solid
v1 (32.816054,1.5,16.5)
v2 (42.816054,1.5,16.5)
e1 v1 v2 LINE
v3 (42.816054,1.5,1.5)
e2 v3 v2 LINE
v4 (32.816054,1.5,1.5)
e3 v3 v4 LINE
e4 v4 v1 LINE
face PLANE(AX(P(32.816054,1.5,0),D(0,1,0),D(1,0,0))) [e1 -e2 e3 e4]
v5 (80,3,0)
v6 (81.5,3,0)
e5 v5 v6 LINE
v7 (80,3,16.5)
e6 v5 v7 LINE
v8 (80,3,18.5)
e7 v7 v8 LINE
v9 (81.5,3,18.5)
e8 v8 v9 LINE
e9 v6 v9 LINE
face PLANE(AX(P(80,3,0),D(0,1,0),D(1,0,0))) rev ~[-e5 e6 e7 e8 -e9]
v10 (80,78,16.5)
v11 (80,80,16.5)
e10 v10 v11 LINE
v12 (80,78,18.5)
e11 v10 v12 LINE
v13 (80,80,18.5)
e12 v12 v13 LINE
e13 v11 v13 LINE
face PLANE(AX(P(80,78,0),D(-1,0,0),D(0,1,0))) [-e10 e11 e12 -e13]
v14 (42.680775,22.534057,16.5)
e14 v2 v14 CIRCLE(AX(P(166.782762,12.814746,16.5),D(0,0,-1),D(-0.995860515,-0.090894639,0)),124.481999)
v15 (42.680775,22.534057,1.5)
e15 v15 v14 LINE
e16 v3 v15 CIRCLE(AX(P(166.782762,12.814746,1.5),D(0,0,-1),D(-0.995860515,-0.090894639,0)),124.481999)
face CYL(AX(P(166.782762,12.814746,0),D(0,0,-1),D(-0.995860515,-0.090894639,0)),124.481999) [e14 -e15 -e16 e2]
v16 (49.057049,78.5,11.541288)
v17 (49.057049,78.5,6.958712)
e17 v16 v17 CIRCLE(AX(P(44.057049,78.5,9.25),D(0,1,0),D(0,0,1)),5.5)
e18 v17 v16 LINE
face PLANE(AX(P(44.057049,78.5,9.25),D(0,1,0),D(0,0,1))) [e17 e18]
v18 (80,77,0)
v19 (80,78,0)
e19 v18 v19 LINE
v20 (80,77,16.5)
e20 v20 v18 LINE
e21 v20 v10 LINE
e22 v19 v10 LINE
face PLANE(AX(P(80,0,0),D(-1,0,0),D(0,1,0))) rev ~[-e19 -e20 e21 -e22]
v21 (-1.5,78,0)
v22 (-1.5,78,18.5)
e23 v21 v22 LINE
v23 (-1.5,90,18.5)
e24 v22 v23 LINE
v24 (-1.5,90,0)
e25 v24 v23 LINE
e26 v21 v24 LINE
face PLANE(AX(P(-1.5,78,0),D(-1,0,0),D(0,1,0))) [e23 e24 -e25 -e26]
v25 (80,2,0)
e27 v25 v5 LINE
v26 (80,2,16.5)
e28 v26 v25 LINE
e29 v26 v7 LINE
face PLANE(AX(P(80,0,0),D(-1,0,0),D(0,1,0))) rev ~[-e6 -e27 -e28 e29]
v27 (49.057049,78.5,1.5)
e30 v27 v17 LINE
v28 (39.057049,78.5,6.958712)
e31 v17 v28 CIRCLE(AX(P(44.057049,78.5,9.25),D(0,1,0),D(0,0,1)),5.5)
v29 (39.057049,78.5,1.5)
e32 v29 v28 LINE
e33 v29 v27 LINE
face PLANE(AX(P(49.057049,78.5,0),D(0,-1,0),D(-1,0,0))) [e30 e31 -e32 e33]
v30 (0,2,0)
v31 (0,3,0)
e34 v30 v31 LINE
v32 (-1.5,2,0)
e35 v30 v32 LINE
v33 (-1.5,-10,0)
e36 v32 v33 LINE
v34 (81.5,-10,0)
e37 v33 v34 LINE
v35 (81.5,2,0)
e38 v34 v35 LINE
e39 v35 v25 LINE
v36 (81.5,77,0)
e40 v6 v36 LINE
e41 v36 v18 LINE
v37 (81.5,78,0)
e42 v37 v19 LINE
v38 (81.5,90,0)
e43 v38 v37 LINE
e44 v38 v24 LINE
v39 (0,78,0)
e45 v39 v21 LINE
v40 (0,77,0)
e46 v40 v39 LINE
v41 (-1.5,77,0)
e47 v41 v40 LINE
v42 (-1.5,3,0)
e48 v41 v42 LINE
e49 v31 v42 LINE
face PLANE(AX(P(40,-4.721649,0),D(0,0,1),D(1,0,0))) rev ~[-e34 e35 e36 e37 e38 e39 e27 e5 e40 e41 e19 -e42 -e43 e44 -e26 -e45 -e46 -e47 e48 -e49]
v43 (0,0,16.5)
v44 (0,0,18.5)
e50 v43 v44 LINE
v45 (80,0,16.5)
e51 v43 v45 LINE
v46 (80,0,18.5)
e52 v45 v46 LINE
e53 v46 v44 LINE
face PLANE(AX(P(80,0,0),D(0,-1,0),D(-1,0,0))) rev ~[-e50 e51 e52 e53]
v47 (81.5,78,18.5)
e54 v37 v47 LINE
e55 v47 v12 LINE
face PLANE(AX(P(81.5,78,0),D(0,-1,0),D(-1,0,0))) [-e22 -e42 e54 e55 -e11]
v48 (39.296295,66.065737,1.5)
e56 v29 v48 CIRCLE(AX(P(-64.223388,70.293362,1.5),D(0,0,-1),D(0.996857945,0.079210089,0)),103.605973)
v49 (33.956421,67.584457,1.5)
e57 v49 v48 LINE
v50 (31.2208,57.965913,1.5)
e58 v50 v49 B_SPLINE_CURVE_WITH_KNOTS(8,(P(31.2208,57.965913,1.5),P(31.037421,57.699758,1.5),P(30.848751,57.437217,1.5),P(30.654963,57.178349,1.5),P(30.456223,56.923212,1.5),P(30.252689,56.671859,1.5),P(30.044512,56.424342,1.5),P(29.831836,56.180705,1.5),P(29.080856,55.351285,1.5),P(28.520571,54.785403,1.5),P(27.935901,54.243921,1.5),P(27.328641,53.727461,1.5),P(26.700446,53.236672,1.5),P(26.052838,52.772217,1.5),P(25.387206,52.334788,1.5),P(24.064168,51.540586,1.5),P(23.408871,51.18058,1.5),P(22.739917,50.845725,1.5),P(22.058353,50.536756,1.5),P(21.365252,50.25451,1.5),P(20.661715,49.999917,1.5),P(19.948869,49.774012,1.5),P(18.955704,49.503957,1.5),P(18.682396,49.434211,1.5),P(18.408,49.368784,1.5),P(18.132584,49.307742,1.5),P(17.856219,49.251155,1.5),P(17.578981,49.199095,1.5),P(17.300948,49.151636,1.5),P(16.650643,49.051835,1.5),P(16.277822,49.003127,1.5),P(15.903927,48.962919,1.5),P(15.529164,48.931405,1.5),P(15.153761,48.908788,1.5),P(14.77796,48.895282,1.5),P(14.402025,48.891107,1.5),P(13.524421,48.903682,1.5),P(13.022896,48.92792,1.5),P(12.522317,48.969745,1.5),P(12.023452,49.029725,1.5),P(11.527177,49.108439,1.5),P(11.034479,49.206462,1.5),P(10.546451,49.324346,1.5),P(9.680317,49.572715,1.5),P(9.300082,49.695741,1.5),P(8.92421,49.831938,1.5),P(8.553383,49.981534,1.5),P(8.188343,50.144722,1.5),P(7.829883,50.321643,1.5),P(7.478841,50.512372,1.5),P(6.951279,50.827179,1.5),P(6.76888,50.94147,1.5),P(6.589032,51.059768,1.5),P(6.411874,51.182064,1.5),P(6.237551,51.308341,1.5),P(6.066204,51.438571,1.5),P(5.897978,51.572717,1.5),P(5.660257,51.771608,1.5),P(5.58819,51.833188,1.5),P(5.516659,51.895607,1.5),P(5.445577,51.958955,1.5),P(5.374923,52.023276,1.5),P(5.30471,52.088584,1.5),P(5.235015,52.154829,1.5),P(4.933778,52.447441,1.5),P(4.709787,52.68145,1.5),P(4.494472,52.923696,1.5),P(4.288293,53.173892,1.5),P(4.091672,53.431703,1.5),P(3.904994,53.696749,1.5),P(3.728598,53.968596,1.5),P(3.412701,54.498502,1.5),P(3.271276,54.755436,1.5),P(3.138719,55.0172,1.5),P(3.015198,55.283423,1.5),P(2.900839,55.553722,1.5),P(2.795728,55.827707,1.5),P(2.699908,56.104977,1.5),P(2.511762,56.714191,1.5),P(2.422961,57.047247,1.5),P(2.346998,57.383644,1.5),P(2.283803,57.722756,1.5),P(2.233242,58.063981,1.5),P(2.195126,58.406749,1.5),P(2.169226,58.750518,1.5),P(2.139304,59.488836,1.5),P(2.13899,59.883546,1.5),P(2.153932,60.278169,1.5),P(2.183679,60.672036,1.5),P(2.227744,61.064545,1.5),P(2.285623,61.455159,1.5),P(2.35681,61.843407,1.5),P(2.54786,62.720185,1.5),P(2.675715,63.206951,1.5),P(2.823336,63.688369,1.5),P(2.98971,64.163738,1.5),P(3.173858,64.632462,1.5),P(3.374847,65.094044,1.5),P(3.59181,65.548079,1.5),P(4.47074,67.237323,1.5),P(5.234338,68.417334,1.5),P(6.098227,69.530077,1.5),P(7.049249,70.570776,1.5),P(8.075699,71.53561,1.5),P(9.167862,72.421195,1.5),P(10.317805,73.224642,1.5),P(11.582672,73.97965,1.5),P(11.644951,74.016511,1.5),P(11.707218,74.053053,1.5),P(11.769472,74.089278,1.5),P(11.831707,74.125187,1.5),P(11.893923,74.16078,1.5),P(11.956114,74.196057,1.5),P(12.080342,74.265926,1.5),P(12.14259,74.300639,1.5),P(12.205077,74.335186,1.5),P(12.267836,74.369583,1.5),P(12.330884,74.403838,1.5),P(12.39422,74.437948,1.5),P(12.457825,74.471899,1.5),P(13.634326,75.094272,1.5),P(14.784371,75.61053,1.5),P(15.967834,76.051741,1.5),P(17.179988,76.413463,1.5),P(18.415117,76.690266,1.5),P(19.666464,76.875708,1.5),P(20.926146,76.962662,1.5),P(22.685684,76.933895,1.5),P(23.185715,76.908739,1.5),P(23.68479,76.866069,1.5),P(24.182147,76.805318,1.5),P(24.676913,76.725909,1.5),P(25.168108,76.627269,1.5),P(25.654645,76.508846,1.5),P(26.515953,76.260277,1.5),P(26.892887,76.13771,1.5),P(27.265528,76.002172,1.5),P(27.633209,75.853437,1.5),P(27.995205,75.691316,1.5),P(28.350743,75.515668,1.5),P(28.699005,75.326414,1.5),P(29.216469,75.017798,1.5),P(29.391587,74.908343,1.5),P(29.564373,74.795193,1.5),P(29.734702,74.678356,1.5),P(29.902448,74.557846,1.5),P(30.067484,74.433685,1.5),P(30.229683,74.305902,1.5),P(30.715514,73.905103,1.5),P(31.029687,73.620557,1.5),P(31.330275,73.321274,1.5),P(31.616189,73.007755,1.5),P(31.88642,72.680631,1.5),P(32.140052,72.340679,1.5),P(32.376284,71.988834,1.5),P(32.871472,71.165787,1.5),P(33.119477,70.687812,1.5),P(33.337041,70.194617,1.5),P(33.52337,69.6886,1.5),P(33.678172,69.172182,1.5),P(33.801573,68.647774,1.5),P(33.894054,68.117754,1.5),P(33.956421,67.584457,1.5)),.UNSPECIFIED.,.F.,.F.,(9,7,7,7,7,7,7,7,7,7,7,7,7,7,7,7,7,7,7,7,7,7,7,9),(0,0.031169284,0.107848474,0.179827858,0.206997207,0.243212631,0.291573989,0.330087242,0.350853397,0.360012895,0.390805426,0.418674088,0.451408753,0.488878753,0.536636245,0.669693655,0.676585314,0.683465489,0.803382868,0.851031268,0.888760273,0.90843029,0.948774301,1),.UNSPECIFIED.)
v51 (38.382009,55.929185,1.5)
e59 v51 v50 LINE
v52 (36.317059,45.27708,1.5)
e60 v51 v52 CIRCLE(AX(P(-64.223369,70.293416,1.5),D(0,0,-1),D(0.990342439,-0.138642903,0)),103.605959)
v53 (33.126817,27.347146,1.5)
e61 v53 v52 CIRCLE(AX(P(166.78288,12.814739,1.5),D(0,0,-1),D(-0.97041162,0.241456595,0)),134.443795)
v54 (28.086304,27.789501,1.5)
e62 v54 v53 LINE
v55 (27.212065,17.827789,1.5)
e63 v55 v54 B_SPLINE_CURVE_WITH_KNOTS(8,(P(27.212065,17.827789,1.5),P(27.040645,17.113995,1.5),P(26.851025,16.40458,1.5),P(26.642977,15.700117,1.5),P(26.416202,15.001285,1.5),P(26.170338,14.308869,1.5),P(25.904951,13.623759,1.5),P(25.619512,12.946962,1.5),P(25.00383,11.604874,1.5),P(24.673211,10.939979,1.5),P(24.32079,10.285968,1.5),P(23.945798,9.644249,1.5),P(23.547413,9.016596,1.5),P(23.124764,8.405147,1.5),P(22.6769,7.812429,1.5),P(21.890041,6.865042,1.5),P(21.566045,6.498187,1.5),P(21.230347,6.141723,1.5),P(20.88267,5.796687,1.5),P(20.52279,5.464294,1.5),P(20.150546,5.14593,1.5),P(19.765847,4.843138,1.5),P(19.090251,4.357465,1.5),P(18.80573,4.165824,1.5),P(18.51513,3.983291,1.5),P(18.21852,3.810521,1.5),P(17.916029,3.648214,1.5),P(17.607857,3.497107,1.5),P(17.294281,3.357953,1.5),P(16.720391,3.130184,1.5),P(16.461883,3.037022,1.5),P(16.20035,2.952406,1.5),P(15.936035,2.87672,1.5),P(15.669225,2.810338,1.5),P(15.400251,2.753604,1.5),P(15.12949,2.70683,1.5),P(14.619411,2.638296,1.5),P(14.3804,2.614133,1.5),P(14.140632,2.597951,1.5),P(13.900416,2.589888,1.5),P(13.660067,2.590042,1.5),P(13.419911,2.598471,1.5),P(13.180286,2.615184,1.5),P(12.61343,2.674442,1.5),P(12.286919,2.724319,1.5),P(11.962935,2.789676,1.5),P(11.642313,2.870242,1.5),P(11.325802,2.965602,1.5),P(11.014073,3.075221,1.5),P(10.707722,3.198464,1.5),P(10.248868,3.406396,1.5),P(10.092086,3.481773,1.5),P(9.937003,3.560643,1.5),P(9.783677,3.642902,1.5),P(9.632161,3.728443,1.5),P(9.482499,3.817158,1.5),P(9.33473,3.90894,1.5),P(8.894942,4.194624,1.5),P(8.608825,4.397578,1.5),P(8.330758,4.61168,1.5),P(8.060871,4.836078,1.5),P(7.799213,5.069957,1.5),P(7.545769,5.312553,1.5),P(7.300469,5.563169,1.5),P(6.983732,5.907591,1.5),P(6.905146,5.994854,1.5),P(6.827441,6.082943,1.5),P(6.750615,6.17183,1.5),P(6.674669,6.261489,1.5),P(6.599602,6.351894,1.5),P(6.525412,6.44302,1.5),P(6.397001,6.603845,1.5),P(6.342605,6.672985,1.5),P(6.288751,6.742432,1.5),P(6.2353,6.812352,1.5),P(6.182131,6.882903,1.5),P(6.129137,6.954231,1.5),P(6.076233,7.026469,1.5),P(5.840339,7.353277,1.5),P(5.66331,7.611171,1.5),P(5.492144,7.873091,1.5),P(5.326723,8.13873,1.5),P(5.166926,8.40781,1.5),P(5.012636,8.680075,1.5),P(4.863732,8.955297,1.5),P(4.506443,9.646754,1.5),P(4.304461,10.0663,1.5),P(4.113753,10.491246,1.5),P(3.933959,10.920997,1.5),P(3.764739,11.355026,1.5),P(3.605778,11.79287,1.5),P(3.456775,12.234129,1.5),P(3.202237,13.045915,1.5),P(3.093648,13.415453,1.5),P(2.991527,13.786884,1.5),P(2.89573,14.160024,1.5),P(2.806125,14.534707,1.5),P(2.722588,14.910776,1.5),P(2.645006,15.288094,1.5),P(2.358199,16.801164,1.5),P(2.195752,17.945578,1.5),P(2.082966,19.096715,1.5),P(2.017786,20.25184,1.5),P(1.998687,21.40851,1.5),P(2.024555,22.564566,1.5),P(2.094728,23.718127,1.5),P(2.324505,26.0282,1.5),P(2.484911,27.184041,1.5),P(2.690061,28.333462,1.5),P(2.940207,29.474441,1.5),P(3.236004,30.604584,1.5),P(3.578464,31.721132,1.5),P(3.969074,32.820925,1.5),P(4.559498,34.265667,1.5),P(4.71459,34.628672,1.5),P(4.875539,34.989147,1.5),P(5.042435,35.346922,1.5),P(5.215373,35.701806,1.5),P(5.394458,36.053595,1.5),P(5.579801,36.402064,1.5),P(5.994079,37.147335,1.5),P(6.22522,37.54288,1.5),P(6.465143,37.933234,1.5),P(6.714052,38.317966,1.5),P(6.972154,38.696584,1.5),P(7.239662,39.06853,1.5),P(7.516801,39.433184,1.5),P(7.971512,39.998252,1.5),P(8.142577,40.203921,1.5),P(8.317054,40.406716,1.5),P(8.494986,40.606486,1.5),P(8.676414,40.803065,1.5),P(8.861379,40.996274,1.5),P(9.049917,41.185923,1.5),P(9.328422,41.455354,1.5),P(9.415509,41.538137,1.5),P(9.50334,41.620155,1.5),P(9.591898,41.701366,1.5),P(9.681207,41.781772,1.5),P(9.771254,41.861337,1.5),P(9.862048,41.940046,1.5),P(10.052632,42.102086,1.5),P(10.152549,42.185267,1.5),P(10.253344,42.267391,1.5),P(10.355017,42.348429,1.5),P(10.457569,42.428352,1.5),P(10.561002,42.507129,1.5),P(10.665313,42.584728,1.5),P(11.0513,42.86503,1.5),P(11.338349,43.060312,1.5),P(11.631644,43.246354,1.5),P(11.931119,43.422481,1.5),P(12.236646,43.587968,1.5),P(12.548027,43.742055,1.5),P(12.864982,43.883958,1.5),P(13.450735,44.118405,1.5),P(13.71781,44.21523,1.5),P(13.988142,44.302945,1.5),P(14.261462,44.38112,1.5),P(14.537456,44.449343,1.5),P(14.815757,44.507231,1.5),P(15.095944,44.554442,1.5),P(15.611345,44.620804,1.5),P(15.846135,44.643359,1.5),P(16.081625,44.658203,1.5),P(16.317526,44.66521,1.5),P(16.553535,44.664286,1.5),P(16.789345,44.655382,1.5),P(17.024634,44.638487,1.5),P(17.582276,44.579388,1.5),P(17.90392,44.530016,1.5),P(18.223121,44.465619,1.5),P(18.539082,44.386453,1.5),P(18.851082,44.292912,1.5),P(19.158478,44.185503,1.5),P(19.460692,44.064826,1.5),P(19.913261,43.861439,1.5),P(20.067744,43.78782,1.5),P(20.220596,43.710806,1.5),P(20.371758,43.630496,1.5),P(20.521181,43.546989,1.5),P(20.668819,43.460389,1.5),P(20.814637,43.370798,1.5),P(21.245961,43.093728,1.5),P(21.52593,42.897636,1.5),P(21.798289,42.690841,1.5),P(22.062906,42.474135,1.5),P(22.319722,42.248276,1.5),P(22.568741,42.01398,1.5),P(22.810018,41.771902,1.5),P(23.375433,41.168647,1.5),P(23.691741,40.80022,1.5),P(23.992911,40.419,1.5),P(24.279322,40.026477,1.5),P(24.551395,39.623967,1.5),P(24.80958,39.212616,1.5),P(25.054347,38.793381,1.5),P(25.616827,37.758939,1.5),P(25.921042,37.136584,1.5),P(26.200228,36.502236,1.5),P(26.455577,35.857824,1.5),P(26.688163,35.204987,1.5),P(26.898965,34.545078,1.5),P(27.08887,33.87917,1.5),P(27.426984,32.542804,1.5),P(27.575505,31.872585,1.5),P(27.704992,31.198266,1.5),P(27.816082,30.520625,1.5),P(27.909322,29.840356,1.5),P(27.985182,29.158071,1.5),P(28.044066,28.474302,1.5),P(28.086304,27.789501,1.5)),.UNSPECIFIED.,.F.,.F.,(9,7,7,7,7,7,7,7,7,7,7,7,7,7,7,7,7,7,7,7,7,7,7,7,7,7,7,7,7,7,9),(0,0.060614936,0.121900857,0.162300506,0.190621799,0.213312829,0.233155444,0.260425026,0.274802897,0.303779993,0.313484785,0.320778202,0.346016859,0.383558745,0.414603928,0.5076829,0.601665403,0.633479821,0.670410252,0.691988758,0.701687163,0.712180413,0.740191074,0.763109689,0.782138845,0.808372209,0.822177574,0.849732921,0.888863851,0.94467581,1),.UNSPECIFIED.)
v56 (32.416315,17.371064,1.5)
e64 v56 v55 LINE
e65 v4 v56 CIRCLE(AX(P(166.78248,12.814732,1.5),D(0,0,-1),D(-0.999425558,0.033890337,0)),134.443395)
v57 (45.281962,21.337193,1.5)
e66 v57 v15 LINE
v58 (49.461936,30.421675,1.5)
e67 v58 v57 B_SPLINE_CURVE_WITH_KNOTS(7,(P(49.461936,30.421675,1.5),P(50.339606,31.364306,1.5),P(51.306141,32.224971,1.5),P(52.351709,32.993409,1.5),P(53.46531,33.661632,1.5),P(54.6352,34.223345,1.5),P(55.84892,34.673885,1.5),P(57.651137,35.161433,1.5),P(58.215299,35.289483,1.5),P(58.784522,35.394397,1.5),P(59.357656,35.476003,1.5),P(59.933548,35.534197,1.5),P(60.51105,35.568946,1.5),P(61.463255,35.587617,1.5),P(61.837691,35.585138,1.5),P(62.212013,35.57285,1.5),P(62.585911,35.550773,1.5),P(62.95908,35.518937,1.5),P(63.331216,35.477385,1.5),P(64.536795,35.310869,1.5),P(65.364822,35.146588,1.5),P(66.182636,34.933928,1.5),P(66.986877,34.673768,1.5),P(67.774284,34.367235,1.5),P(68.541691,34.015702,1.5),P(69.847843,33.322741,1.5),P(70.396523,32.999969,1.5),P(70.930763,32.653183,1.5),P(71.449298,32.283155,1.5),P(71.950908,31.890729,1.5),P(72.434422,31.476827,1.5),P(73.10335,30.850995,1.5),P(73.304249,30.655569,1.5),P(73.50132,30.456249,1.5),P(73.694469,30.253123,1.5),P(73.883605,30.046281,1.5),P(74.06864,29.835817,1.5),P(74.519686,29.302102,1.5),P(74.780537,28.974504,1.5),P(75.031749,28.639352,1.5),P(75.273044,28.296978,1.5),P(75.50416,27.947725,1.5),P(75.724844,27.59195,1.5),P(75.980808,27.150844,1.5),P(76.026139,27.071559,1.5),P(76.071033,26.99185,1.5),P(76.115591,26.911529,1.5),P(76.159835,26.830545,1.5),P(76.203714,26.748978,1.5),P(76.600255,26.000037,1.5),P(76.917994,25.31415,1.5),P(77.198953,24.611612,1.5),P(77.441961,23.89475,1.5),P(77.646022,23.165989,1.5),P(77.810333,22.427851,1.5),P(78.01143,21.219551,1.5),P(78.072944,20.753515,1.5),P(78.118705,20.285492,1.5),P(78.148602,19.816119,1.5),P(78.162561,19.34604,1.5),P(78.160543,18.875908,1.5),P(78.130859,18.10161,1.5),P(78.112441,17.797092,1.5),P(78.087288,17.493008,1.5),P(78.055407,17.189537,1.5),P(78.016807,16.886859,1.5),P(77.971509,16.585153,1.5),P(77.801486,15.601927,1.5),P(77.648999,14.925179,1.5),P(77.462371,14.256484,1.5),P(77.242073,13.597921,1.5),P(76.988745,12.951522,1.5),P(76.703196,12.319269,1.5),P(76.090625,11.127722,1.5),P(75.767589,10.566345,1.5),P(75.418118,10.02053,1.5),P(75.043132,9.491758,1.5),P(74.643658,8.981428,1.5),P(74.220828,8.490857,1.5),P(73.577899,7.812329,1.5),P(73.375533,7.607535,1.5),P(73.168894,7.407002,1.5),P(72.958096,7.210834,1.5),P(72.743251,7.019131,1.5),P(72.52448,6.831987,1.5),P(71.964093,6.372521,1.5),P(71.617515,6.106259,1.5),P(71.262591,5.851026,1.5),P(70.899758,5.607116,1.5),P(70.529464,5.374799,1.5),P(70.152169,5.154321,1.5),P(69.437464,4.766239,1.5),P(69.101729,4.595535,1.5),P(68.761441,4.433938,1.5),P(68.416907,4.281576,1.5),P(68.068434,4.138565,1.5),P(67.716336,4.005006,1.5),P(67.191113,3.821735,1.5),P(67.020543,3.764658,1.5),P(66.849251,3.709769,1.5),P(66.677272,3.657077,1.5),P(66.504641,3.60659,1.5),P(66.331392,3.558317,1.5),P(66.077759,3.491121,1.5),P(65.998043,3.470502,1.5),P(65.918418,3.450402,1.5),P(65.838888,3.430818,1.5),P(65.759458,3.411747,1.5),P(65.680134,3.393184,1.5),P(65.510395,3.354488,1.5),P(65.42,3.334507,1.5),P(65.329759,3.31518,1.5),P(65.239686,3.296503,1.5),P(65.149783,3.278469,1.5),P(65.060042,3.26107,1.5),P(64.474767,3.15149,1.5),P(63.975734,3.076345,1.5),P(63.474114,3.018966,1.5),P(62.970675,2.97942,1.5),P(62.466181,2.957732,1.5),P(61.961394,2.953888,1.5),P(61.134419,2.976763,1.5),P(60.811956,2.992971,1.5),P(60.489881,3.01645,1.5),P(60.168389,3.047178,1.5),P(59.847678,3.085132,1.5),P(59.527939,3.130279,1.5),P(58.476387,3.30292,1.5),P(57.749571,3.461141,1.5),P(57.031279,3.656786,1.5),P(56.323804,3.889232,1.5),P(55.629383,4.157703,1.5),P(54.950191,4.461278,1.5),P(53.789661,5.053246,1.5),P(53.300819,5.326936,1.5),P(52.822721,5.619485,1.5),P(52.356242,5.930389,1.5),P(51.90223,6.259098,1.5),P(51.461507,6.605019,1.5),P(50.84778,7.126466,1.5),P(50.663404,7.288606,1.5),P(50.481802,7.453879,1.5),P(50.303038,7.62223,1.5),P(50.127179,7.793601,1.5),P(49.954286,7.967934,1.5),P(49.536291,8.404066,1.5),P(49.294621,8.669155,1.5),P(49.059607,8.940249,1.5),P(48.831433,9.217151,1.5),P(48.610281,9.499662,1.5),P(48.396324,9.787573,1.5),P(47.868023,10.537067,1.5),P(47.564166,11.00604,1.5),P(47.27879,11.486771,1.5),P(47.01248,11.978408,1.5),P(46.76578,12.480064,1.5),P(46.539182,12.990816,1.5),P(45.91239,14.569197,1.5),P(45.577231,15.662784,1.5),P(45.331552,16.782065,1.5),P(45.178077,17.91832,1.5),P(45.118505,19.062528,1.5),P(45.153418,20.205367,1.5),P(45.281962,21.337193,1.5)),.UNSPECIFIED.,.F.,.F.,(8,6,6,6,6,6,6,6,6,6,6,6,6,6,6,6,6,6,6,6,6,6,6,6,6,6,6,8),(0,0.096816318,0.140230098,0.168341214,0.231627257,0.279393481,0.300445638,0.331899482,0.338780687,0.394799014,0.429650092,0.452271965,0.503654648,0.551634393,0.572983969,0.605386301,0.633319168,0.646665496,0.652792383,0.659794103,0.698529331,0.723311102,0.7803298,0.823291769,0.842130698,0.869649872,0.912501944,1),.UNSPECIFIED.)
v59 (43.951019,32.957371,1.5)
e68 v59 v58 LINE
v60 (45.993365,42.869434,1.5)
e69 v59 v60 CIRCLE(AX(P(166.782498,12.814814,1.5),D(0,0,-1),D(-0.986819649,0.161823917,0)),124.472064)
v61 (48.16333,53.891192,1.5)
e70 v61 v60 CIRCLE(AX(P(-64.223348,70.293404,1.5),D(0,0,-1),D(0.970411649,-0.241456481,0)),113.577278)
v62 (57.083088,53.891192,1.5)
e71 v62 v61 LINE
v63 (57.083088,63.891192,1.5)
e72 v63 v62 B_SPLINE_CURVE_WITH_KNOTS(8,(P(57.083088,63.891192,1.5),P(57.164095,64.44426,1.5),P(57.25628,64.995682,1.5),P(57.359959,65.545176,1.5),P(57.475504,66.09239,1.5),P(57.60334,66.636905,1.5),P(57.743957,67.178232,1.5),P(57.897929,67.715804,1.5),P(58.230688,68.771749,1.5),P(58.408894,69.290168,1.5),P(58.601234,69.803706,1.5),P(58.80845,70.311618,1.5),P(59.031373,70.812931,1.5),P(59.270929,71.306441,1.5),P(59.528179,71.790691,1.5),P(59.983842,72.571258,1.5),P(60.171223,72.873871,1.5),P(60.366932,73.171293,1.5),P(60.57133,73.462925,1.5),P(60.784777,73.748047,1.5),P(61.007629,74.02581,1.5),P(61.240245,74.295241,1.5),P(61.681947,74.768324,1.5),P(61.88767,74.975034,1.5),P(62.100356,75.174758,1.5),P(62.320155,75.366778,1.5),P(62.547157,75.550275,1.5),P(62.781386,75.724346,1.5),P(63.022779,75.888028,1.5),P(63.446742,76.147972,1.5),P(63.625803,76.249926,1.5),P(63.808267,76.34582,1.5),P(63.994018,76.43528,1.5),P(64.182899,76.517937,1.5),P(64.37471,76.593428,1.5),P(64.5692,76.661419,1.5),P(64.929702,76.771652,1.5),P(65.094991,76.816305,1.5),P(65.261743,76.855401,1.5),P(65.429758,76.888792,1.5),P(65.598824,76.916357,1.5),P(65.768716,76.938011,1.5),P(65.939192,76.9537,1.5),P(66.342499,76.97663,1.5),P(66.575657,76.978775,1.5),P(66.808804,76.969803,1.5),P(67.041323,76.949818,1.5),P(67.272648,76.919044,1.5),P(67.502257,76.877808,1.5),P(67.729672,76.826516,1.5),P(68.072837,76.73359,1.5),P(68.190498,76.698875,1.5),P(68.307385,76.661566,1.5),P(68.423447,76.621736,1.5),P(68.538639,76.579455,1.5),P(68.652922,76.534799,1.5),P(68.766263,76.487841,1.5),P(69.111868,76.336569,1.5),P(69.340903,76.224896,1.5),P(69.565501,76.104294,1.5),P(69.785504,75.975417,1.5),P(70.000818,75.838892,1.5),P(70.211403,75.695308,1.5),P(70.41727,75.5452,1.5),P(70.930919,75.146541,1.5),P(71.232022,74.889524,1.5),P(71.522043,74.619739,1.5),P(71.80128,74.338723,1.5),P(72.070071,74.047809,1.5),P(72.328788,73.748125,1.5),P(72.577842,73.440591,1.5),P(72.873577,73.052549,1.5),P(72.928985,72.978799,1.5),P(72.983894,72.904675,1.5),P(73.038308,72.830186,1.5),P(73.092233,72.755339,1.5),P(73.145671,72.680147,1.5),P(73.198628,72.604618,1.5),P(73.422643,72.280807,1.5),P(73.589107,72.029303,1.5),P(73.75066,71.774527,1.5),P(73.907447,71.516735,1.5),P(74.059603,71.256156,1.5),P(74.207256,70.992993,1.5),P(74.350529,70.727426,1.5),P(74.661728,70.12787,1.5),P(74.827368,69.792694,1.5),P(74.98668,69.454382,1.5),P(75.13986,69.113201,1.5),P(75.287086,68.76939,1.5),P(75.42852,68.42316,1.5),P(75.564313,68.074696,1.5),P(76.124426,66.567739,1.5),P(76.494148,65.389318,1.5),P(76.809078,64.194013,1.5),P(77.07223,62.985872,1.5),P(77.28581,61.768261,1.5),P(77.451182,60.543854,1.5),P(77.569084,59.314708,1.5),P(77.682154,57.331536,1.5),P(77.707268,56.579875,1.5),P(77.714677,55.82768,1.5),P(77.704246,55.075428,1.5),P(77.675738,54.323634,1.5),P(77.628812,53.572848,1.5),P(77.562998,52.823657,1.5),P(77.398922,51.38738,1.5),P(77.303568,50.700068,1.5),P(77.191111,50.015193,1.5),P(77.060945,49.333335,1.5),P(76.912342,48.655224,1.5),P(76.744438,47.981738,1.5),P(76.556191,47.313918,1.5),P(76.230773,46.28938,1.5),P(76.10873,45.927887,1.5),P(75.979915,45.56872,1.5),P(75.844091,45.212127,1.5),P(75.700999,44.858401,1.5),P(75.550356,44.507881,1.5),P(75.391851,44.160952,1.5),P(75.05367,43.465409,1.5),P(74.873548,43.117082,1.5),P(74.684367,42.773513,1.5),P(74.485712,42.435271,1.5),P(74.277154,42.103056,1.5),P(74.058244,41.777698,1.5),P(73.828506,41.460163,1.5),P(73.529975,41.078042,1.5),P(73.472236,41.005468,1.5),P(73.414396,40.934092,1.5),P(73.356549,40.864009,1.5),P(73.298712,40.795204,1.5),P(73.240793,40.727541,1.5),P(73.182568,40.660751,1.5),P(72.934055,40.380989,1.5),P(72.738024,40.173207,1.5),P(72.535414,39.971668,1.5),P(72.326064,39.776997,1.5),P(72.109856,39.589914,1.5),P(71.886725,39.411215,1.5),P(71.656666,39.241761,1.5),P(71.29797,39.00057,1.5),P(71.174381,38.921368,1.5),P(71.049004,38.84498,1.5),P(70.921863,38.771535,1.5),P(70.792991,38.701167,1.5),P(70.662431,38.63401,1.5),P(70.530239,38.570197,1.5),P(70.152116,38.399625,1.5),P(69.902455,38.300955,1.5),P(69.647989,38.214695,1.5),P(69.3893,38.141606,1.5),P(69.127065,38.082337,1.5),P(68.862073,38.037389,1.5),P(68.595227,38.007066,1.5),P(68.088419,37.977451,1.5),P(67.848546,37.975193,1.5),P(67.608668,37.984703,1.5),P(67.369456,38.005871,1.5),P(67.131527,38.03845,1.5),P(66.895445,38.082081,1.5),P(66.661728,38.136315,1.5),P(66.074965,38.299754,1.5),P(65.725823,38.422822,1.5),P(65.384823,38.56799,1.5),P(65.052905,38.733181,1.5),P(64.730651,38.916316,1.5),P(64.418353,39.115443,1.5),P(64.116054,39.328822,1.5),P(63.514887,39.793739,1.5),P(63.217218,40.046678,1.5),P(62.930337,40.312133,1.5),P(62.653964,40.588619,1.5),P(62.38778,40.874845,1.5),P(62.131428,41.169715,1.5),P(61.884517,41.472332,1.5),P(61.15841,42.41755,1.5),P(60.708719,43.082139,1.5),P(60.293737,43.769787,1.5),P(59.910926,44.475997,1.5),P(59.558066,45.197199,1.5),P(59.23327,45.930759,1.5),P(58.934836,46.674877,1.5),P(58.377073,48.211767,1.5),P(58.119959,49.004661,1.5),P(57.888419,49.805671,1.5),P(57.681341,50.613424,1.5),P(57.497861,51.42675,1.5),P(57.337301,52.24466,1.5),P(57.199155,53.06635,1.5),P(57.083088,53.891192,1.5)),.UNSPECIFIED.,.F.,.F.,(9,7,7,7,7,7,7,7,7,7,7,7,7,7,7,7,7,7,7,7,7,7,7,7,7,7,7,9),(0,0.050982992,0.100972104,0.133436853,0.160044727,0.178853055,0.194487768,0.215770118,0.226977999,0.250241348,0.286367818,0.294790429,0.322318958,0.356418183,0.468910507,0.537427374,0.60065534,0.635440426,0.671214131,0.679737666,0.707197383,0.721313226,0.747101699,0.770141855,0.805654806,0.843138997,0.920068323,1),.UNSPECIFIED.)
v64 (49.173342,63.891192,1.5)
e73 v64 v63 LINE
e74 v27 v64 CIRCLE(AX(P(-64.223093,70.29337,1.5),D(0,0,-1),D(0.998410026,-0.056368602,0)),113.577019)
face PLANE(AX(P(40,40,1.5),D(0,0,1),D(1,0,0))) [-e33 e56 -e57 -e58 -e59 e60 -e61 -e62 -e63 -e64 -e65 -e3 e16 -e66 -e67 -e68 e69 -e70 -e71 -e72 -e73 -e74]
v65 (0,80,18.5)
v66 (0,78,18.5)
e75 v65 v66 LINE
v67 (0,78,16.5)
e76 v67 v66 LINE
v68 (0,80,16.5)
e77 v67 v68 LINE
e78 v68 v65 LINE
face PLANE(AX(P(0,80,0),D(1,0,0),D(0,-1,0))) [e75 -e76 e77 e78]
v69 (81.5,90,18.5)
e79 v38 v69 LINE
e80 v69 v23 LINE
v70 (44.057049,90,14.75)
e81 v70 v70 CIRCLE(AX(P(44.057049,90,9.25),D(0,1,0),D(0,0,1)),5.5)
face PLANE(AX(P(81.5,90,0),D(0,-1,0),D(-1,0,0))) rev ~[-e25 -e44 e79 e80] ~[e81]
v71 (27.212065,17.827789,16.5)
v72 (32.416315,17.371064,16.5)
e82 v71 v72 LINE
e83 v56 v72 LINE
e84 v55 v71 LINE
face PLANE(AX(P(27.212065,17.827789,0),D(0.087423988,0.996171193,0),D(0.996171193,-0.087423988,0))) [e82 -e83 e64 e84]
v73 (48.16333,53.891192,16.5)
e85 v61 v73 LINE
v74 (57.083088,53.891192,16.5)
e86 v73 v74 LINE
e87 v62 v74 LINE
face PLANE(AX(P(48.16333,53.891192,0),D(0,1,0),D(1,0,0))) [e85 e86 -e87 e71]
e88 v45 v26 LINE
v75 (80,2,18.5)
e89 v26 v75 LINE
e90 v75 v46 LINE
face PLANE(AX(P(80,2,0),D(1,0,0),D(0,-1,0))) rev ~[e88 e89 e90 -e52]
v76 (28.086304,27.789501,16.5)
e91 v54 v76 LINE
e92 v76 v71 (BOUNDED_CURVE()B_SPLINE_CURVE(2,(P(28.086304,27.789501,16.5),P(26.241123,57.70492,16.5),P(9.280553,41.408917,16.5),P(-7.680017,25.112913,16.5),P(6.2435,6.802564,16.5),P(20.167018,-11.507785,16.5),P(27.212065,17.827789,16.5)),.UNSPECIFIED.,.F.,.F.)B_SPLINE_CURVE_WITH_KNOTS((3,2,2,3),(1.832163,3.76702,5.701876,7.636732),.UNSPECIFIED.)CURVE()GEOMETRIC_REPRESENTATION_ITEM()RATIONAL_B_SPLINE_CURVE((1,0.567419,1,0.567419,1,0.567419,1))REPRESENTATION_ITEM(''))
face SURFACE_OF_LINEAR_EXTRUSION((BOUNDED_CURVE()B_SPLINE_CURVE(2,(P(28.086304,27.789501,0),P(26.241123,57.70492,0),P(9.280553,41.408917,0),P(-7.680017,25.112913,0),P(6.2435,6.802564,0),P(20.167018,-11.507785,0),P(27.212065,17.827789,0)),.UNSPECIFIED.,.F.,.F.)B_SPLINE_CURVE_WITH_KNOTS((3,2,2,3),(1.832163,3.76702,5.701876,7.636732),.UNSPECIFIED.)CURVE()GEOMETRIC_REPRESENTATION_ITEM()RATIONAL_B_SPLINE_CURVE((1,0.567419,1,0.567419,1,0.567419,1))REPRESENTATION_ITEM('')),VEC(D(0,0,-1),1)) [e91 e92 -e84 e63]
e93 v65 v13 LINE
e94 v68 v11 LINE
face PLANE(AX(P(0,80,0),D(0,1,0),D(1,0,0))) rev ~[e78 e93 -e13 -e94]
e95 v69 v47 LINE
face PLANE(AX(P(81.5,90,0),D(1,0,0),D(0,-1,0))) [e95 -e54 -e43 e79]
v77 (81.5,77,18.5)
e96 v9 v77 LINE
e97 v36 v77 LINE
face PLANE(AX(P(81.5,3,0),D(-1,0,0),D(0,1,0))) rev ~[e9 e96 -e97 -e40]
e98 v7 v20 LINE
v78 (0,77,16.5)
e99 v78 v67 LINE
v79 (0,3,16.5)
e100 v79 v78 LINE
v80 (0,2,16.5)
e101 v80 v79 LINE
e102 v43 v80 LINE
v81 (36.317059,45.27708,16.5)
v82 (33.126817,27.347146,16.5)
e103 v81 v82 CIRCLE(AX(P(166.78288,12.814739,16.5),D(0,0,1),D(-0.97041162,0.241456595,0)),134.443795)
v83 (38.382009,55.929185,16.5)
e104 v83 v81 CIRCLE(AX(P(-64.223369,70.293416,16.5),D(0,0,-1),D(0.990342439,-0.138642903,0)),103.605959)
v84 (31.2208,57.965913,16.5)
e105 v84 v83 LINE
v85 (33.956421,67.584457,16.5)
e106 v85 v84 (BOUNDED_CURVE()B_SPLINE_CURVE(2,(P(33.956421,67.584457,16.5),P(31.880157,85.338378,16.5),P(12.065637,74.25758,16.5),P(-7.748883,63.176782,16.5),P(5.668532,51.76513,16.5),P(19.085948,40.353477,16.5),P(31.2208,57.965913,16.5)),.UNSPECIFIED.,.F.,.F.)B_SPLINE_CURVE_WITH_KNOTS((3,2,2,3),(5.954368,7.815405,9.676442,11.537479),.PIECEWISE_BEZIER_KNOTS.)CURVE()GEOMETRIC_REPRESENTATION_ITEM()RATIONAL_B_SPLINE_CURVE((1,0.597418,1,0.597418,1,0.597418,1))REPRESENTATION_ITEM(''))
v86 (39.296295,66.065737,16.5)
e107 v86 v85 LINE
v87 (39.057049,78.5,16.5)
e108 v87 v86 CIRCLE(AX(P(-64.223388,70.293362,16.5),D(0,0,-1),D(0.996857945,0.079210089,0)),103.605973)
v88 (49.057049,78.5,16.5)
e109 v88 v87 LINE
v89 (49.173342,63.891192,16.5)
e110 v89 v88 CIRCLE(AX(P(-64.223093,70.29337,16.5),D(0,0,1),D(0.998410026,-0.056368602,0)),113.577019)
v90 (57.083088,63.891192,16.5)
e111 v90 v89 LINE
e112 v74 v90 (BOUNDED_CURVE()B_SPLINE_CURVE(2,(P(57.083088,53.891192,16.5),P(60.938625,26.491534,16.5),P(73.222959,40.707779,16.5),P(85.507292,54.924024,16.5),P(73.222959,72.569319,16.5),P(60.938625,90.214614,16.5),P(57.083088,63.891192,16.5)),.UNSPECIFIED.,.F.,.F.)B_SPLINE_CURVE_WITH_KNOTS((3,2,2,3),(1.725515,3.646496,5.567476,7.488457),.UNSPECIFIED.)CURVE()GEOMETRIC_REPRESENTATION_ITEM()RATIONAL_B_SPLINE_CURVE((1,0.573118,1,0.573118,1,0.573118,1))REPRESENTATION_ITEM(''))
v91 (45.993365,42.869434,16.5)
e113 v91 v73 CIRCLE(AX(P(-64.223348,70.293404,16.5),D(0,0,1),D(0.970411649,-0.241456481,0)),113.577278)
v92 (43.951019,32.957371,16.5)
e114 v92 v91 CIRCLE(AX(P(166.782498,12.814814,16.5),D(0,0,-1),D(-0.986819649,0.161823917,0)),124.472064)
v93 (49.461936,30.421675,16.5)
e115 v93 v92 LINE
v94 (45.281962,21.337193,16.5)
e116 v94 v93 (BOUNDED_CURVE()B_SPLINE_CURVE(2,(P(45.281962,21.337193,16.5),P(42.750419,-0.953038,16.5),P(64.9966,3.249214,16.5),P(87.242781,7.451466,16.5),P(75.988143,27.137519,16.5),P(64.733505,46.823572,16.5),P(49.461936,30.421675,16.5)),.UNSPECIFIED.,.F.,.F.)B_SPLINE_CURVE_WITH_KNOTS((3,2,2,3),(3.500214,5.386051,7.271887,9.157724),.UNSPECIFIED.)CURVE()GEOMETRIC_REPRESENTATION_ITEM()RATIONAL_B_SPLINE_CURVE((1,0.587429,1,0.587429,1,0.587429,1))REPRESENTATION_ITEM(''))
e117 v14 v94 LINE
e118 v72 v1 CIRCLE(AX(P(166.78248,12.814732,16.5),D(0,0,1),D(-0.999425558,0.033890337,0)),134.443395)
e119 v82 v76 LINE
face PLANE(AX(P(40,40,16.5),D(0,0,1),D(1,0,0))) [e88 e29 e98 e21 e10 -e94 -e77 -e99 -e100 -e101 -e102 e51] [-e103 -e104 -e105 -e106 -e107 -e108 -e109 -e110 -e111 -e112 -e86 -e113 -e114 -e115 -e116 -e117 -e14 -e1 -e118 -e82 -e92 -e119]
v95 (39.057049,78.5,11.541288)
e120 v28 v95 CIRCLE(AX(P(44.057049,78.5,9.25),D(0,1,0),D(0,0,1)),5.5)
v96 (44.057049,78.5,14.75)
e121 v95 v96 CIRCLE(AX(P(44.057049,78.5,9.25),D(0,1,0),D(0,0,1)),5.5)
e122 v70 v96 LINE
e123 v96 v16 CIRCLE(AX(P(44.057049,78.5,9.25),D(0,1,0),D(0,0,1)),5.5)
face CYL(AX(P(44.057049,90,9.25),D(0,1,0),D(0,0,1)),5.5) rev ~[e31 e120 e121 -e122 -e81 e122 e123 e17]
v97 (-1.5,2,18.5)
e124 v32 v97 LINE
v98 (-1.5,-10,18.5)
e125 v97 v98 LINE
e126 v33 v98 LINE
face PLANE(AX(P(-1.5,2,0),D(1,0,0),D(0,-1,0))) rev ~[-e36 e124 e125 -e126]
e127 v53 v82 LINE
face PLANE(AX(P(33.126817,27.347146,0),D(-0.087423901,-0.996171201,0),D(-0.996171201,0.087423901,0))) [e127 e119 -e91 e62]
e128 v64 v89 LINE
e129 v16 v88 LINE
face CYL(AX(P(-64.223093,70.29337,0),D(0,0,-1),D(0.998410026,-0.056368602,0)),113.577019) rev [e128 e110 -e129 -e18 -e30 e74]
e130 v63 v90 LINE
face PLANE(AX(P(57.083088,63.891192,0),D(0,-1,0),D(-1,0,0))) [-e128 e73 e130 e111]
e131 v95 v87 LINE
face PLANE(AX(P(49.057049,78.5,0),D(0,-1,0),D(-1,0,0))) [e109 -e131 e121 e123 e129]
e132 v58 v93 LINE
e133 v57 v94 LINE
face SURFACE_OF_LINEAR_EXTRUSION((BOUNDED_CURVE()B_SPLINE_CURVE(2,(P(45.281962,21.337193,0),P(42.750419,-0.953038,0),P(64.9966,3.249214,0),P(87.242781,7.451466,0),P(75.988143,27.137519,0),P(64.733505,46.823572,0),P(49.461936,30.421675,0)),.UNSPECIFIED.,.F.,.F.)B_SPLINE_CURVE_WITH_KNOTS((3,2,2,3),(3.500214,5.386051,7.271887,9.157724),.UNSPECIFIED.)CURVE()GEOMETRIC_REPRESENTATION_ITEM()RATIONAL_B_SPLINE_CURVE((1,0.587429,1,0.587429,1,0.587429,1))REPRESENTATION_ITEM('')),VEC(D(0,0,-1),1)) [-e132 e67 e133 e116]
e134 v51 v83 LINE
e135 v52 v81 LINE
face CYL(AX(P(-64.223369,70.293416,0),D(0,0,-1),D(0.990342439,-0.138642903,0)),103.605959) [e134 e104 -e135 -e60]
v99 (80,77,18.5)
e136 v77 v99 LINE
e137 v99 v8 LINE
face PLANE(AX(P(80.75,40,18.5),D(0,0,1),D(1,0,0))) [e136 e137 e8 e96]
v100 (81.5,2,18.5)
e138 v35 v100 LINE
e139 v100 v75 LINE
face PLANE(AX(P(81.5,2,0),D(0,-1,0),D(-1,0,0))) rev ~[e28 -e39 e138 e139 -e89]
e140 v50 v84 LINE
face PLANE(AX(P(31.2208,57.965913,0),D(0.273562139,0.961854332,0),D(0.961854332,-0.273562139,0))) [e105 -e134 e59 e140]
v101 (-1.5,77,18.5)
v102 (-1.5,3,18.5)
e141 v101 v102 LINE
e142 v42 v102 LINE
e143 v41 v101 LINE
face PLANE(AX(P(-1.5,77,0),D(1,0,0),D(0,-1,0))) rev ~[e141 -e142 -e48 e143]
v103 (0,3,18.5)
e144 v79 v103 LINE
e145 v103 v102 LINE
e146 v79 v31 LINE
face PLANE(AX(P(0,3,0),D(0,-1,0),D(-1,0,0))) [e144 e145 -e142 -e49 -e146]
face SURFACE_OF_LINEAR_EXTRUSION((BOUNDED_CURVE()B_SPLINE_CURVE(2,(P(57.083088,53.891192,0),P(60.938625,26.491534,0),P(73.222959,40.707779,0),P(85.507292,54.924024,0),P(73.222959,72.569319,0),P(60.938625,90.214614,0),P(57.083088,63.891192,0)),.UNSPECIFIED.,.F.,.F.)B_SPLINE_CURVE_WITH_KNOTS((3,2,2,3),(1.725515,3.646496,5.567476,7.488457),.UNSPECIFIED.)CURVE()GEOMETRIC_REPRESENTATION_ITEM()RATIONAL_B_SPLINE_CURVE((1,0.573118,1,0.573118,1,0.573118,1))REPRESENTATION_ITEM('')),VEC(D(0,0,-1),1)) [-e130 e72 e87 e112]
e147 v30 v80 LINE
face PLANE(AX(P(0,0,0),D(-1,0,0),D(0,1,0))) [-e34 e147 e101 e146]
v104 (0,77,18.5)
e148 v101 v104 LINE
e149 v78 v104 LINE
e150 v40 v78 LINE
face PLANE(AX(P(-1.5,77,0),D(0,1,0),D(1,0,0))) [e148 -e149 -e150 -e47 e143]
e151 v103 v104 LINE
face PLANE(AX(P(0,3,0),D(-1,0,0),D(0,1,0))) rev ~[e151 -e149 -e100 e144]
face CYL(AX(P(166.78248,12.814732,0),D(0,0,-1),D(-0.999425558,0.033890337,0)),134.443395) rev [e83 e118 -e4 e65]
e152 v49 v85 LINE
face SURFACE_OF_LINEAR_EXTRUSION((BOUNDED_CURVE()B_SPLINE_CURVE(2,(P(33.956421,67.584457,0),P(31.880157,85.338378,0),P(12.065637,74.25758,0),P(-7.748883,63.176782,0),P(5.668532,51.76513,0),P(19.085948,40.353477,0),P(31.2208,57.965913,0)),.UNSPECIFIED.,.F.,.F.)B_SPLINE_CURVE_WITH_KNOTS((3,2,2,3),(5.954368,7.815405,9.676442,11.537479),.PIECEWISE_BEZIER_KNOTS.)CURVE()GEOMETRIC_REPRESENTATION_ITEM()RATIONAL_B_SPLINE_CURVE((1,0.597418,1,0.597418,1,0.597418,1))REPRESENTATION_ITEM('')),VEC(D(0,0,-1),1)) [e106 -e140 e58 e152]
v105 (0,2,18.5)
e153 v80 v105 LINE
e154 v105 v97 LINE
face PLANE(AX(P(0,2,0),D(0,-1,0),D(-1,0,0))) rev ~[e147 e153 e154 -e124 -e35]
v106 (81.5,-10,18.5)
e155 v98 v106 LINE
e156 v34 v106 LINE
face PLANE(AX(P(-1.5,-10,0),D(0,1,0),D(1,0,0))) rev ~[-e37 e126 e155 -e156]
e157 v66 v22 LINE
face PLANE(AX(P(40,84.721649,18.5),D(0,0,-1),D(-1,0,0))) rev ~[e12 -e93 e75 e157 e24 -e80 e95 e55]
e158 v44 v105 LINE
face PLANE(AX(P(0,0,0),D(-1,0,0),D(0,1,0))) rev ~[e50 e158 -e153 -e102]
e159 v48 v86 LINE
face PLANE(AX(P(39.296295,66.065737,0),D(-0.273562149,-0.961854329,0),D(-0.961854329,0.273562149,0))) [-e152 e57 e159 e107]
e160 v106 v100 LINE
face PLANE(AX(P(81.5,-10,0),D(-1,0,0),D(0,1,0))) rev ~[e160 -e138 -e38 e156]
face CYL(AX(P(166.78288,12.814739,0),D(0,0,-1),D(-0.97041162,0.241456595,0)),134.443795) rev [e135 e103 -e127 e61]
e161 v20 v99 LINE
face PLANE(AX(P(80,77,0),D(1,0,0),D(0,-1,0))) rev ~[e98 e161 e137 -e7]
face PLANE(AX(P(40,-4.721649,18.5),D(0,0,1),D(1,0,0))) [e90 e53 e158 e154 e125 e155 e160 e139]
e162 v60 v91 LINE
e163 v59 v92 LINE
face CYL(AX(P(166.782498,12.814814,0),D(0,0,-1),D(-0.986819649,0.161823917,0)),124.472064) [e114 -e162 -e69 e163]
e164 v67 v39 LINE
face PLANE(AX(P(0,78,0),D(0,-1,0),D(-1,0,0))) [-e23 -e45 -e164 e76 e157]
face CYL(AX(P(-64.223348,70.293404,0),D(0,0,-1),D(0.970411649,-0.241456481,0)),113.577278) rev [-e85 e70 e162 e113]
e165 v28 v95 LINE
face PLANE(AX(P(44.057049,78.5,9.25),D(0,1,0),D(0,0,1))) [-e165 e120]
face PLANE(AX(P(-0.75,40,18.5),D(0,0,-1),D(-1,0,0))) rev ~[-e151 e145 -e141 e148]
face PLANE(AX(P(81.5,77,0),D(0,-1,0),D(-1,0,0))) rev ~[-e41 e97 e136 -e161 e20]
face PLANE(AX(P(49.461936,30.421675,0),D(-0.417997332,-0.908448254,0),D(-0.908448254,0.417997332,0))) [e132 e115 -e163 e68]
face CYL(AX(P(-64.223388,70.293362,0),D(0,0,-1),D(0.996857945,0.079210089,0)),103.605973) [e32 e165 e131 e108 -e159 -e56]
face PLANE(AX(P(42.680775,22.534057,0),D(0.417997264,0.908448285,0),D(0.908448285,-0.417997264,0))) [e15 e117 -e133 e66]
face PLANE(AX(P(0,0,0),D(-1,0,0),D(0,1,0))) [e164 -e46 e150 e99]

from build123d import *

# Parameters (mm, degrees)
SKETCH_W      = 80
SKETCH_H      = 80
PAD_DEPTH     = 1.5
PAD001_DEPTH  = 18.5
SKETCH002_W   = 80
SKETCH002_H   = 80
PAD002_DEPTH  = 16.5
SKETCH003_R   = 5.5
HOLE_DEPTH    = 11.5
SKETCH004_R   = 5.5
HOLE001_DEPTH = 11.5


with BuildPart() as part:
    # Sketch → Pad (new body)
    with BuildSketch(Plane.XY):
        with Locations((40, 40)):
            Rectangle(SKETCH_W, SKETCH_H)
    extrude(amount=PAD_DEPTH)

    # Sketch001 → Pad001 (join)
    with BuildSketch(Plane.XY):
        Polygon((40, 0), (0, 0), (0, 2), (-1.5, 2), (-1.5, -10), (40, -10), (81.5, -10), (81.5, 2), (80, 2), (80, 0), align=None)
        Polygon((-1.5, 3), (-1.5, 40), (-1.5, 77), (0, 77), (0, 40), (0, 3), align=None)
        Polygon((81.5, 3), (81.5, 40), (81.5, 77), (80, 77), (80, 40), (80, 3), align=None)
        Polygon((40, 80), (0, 80), (0, 78), (-1.5, 78), (-1.5, 90), (40, 90), (81.5, 90), (81.5, 78), (80, 78), (80, 80), align=None)
    extrude(amount=PAD001_DEPTH)

    # Sketch002 → Pad002 (join)
    with BuildSketch(Plane.XY):
        with Locations((40, 40)):
            Rectangle(SKETCH002_W, SKETCH002_H)
        with BuildLine():
            add(Edge.make_bspline(
                [(28.086304, 27.789501), (26.241123, 57.70492), (9.280553, 41.408917), (-7.680017, 25.112913), (6.2435, 6.802564), (20.167018, -11.507785), (27.212065, 17.827789)],
                knots=[1.832163, 1.832163, 1.832163, 3.76702, 3.76702, 5.701876, 5.701876, 7.636732, 7.636732, 7.636732], degree=2, weights=[1, 0.567419, 1, 0.567419, 1, 0.567419, 1]))
            Line((27.212065, 17.827789), (32.416315, 17.371064))
            ThreePointArc((32.416315, 17.371064), (32.381708, 9.429626), (32.816054, 1.5))
            Line((32.816054, 1.5), (42.816054, 1.5))
            ThreePointArc((42.816054, 1.5), (42.303337, 12.014166), (42.680775, 22.534057))
            Line((42.680775, 22.534057), (45.281962, 21.337193))
            add(Edge.make_bspline(
                [(45.281962, 21.337193), (42.750419, -0.953038), (64.9966, 3.249214), (87.242781, 7.451466), (75.988143, 27.137519), (64.733505, 46.823572), (49.461936, 30.421675)],
                knots=[3.500214, 3.500214, 3.500214, 5.386051, 5.386051, 7.271887, 7.271887, 9.157724, 9.157724, 9.157724], degree=2, weights=[1, 0.587429, 1, 0.587429, 1, 0.587429, 1]))
            Line((49.461936, 30.421675), (43.951019, 32.957371))
            ThreePointArc((43.951019, 32.957371), (44.871412, 37.934168), (45.993365, 42.869434))
            ThreePointArc((45.993365, 42.869434), (47.214694, 48.353469), (48.16333, 53.891192))
            Line((48.16333, 53.891192), (57.083088, 53.891192))
            add(Edge.make_bspline(
                [(57.083088, 53.891192), (60.938625, 26.491534), (73.222959, 40.707779), (85.507292, 54.924024), (73.222959, 72.569319), (60.938625, 90.214614), (57.083088, 63.891192)],
                knots=[1.725515, 1.725515, 1.725515, 3.646496, 3.646496, 5.567476, 5.567476, 7.488457, 7.488457, 7.488457], degree=2, weights=[1, 0.573118, 1, 0.573118, 1, 0.573118, 1]))
            Line((57.083088, 63.891192), (49.173342, 63.891192))
            ThreePointArc((49.173342, 63.891192), (49.350328, 71.197468), (49.057049, 78.5))
            Line((49.057049, 78.5), (39.057049, 78.5))
            ThreePointArc((39.057049, 78.5), (39.363412, 72.286461), (39.296295, 66.065737))
            Line((39.296295, 66.065737), (33.956421, 67.584457))
            add(Edge.make_bspline(
                [(33.956421, 67.584457), (31.880157, 85.338378), (12.065637, 74.25758), (-7.748883, 63.176782), (5.668532, 51.76513), (19.085948, 40.353477), (31.2208, 57.965913)],
                knots=[5.954368, 5.954368, 5.954368, 7.815405, 7.815405, 9.676442, 9.676442, 11.537479, 11.537479, 11.537479], degree=2, weights=[1, 0.597418, 1, 0.597418, 1, 0.597418, 1]))
            Line((31.2208, 57.965913), (38.382009, 55.929185))
            ThreePointArc((38.382009, 55.929185), (37.489076, 50.576082), (36.317059, 45.27708))
            ThreePointArc((36.317059, 45.27708), (34.417994, 36.366193), (33.126817, 27.347146))
            Line((33.126817, 27.347146), (28.086304, 27.789501))
        make_face(mode=Mode.SUBTRACT)
    extrude(amount=PAD002_DEPTH)

    # Sketch003 (on Face2 of Pad002) → Hole (cut)
    with BuildSketch(Plane(origin=(40, 90, 9.25), x_dir=(0, 0, 1), z_dir=(0, 1, 0))):
        with Locations((0, 4.057049)):
            Circle(SKETCH003_R)
    extrude(amount=-HOLE_DEPTH, mode=Mode.SUBTRACT)

    # Sketch004 (on Face68 of Hole) → Hole001 (cut)
    with BuildSketch(Plane(origin=(40, -10, 9.25), x_dir=(0, 0, 1), z_dir=(0, 1, 0))):
        with Locations((0, -2.183946)):
            Circle(SKETCH004_R)
    extrude(amount=-HOLE001_DEPTH, mode=Mode.SUBTRACT)


solid = part.part
